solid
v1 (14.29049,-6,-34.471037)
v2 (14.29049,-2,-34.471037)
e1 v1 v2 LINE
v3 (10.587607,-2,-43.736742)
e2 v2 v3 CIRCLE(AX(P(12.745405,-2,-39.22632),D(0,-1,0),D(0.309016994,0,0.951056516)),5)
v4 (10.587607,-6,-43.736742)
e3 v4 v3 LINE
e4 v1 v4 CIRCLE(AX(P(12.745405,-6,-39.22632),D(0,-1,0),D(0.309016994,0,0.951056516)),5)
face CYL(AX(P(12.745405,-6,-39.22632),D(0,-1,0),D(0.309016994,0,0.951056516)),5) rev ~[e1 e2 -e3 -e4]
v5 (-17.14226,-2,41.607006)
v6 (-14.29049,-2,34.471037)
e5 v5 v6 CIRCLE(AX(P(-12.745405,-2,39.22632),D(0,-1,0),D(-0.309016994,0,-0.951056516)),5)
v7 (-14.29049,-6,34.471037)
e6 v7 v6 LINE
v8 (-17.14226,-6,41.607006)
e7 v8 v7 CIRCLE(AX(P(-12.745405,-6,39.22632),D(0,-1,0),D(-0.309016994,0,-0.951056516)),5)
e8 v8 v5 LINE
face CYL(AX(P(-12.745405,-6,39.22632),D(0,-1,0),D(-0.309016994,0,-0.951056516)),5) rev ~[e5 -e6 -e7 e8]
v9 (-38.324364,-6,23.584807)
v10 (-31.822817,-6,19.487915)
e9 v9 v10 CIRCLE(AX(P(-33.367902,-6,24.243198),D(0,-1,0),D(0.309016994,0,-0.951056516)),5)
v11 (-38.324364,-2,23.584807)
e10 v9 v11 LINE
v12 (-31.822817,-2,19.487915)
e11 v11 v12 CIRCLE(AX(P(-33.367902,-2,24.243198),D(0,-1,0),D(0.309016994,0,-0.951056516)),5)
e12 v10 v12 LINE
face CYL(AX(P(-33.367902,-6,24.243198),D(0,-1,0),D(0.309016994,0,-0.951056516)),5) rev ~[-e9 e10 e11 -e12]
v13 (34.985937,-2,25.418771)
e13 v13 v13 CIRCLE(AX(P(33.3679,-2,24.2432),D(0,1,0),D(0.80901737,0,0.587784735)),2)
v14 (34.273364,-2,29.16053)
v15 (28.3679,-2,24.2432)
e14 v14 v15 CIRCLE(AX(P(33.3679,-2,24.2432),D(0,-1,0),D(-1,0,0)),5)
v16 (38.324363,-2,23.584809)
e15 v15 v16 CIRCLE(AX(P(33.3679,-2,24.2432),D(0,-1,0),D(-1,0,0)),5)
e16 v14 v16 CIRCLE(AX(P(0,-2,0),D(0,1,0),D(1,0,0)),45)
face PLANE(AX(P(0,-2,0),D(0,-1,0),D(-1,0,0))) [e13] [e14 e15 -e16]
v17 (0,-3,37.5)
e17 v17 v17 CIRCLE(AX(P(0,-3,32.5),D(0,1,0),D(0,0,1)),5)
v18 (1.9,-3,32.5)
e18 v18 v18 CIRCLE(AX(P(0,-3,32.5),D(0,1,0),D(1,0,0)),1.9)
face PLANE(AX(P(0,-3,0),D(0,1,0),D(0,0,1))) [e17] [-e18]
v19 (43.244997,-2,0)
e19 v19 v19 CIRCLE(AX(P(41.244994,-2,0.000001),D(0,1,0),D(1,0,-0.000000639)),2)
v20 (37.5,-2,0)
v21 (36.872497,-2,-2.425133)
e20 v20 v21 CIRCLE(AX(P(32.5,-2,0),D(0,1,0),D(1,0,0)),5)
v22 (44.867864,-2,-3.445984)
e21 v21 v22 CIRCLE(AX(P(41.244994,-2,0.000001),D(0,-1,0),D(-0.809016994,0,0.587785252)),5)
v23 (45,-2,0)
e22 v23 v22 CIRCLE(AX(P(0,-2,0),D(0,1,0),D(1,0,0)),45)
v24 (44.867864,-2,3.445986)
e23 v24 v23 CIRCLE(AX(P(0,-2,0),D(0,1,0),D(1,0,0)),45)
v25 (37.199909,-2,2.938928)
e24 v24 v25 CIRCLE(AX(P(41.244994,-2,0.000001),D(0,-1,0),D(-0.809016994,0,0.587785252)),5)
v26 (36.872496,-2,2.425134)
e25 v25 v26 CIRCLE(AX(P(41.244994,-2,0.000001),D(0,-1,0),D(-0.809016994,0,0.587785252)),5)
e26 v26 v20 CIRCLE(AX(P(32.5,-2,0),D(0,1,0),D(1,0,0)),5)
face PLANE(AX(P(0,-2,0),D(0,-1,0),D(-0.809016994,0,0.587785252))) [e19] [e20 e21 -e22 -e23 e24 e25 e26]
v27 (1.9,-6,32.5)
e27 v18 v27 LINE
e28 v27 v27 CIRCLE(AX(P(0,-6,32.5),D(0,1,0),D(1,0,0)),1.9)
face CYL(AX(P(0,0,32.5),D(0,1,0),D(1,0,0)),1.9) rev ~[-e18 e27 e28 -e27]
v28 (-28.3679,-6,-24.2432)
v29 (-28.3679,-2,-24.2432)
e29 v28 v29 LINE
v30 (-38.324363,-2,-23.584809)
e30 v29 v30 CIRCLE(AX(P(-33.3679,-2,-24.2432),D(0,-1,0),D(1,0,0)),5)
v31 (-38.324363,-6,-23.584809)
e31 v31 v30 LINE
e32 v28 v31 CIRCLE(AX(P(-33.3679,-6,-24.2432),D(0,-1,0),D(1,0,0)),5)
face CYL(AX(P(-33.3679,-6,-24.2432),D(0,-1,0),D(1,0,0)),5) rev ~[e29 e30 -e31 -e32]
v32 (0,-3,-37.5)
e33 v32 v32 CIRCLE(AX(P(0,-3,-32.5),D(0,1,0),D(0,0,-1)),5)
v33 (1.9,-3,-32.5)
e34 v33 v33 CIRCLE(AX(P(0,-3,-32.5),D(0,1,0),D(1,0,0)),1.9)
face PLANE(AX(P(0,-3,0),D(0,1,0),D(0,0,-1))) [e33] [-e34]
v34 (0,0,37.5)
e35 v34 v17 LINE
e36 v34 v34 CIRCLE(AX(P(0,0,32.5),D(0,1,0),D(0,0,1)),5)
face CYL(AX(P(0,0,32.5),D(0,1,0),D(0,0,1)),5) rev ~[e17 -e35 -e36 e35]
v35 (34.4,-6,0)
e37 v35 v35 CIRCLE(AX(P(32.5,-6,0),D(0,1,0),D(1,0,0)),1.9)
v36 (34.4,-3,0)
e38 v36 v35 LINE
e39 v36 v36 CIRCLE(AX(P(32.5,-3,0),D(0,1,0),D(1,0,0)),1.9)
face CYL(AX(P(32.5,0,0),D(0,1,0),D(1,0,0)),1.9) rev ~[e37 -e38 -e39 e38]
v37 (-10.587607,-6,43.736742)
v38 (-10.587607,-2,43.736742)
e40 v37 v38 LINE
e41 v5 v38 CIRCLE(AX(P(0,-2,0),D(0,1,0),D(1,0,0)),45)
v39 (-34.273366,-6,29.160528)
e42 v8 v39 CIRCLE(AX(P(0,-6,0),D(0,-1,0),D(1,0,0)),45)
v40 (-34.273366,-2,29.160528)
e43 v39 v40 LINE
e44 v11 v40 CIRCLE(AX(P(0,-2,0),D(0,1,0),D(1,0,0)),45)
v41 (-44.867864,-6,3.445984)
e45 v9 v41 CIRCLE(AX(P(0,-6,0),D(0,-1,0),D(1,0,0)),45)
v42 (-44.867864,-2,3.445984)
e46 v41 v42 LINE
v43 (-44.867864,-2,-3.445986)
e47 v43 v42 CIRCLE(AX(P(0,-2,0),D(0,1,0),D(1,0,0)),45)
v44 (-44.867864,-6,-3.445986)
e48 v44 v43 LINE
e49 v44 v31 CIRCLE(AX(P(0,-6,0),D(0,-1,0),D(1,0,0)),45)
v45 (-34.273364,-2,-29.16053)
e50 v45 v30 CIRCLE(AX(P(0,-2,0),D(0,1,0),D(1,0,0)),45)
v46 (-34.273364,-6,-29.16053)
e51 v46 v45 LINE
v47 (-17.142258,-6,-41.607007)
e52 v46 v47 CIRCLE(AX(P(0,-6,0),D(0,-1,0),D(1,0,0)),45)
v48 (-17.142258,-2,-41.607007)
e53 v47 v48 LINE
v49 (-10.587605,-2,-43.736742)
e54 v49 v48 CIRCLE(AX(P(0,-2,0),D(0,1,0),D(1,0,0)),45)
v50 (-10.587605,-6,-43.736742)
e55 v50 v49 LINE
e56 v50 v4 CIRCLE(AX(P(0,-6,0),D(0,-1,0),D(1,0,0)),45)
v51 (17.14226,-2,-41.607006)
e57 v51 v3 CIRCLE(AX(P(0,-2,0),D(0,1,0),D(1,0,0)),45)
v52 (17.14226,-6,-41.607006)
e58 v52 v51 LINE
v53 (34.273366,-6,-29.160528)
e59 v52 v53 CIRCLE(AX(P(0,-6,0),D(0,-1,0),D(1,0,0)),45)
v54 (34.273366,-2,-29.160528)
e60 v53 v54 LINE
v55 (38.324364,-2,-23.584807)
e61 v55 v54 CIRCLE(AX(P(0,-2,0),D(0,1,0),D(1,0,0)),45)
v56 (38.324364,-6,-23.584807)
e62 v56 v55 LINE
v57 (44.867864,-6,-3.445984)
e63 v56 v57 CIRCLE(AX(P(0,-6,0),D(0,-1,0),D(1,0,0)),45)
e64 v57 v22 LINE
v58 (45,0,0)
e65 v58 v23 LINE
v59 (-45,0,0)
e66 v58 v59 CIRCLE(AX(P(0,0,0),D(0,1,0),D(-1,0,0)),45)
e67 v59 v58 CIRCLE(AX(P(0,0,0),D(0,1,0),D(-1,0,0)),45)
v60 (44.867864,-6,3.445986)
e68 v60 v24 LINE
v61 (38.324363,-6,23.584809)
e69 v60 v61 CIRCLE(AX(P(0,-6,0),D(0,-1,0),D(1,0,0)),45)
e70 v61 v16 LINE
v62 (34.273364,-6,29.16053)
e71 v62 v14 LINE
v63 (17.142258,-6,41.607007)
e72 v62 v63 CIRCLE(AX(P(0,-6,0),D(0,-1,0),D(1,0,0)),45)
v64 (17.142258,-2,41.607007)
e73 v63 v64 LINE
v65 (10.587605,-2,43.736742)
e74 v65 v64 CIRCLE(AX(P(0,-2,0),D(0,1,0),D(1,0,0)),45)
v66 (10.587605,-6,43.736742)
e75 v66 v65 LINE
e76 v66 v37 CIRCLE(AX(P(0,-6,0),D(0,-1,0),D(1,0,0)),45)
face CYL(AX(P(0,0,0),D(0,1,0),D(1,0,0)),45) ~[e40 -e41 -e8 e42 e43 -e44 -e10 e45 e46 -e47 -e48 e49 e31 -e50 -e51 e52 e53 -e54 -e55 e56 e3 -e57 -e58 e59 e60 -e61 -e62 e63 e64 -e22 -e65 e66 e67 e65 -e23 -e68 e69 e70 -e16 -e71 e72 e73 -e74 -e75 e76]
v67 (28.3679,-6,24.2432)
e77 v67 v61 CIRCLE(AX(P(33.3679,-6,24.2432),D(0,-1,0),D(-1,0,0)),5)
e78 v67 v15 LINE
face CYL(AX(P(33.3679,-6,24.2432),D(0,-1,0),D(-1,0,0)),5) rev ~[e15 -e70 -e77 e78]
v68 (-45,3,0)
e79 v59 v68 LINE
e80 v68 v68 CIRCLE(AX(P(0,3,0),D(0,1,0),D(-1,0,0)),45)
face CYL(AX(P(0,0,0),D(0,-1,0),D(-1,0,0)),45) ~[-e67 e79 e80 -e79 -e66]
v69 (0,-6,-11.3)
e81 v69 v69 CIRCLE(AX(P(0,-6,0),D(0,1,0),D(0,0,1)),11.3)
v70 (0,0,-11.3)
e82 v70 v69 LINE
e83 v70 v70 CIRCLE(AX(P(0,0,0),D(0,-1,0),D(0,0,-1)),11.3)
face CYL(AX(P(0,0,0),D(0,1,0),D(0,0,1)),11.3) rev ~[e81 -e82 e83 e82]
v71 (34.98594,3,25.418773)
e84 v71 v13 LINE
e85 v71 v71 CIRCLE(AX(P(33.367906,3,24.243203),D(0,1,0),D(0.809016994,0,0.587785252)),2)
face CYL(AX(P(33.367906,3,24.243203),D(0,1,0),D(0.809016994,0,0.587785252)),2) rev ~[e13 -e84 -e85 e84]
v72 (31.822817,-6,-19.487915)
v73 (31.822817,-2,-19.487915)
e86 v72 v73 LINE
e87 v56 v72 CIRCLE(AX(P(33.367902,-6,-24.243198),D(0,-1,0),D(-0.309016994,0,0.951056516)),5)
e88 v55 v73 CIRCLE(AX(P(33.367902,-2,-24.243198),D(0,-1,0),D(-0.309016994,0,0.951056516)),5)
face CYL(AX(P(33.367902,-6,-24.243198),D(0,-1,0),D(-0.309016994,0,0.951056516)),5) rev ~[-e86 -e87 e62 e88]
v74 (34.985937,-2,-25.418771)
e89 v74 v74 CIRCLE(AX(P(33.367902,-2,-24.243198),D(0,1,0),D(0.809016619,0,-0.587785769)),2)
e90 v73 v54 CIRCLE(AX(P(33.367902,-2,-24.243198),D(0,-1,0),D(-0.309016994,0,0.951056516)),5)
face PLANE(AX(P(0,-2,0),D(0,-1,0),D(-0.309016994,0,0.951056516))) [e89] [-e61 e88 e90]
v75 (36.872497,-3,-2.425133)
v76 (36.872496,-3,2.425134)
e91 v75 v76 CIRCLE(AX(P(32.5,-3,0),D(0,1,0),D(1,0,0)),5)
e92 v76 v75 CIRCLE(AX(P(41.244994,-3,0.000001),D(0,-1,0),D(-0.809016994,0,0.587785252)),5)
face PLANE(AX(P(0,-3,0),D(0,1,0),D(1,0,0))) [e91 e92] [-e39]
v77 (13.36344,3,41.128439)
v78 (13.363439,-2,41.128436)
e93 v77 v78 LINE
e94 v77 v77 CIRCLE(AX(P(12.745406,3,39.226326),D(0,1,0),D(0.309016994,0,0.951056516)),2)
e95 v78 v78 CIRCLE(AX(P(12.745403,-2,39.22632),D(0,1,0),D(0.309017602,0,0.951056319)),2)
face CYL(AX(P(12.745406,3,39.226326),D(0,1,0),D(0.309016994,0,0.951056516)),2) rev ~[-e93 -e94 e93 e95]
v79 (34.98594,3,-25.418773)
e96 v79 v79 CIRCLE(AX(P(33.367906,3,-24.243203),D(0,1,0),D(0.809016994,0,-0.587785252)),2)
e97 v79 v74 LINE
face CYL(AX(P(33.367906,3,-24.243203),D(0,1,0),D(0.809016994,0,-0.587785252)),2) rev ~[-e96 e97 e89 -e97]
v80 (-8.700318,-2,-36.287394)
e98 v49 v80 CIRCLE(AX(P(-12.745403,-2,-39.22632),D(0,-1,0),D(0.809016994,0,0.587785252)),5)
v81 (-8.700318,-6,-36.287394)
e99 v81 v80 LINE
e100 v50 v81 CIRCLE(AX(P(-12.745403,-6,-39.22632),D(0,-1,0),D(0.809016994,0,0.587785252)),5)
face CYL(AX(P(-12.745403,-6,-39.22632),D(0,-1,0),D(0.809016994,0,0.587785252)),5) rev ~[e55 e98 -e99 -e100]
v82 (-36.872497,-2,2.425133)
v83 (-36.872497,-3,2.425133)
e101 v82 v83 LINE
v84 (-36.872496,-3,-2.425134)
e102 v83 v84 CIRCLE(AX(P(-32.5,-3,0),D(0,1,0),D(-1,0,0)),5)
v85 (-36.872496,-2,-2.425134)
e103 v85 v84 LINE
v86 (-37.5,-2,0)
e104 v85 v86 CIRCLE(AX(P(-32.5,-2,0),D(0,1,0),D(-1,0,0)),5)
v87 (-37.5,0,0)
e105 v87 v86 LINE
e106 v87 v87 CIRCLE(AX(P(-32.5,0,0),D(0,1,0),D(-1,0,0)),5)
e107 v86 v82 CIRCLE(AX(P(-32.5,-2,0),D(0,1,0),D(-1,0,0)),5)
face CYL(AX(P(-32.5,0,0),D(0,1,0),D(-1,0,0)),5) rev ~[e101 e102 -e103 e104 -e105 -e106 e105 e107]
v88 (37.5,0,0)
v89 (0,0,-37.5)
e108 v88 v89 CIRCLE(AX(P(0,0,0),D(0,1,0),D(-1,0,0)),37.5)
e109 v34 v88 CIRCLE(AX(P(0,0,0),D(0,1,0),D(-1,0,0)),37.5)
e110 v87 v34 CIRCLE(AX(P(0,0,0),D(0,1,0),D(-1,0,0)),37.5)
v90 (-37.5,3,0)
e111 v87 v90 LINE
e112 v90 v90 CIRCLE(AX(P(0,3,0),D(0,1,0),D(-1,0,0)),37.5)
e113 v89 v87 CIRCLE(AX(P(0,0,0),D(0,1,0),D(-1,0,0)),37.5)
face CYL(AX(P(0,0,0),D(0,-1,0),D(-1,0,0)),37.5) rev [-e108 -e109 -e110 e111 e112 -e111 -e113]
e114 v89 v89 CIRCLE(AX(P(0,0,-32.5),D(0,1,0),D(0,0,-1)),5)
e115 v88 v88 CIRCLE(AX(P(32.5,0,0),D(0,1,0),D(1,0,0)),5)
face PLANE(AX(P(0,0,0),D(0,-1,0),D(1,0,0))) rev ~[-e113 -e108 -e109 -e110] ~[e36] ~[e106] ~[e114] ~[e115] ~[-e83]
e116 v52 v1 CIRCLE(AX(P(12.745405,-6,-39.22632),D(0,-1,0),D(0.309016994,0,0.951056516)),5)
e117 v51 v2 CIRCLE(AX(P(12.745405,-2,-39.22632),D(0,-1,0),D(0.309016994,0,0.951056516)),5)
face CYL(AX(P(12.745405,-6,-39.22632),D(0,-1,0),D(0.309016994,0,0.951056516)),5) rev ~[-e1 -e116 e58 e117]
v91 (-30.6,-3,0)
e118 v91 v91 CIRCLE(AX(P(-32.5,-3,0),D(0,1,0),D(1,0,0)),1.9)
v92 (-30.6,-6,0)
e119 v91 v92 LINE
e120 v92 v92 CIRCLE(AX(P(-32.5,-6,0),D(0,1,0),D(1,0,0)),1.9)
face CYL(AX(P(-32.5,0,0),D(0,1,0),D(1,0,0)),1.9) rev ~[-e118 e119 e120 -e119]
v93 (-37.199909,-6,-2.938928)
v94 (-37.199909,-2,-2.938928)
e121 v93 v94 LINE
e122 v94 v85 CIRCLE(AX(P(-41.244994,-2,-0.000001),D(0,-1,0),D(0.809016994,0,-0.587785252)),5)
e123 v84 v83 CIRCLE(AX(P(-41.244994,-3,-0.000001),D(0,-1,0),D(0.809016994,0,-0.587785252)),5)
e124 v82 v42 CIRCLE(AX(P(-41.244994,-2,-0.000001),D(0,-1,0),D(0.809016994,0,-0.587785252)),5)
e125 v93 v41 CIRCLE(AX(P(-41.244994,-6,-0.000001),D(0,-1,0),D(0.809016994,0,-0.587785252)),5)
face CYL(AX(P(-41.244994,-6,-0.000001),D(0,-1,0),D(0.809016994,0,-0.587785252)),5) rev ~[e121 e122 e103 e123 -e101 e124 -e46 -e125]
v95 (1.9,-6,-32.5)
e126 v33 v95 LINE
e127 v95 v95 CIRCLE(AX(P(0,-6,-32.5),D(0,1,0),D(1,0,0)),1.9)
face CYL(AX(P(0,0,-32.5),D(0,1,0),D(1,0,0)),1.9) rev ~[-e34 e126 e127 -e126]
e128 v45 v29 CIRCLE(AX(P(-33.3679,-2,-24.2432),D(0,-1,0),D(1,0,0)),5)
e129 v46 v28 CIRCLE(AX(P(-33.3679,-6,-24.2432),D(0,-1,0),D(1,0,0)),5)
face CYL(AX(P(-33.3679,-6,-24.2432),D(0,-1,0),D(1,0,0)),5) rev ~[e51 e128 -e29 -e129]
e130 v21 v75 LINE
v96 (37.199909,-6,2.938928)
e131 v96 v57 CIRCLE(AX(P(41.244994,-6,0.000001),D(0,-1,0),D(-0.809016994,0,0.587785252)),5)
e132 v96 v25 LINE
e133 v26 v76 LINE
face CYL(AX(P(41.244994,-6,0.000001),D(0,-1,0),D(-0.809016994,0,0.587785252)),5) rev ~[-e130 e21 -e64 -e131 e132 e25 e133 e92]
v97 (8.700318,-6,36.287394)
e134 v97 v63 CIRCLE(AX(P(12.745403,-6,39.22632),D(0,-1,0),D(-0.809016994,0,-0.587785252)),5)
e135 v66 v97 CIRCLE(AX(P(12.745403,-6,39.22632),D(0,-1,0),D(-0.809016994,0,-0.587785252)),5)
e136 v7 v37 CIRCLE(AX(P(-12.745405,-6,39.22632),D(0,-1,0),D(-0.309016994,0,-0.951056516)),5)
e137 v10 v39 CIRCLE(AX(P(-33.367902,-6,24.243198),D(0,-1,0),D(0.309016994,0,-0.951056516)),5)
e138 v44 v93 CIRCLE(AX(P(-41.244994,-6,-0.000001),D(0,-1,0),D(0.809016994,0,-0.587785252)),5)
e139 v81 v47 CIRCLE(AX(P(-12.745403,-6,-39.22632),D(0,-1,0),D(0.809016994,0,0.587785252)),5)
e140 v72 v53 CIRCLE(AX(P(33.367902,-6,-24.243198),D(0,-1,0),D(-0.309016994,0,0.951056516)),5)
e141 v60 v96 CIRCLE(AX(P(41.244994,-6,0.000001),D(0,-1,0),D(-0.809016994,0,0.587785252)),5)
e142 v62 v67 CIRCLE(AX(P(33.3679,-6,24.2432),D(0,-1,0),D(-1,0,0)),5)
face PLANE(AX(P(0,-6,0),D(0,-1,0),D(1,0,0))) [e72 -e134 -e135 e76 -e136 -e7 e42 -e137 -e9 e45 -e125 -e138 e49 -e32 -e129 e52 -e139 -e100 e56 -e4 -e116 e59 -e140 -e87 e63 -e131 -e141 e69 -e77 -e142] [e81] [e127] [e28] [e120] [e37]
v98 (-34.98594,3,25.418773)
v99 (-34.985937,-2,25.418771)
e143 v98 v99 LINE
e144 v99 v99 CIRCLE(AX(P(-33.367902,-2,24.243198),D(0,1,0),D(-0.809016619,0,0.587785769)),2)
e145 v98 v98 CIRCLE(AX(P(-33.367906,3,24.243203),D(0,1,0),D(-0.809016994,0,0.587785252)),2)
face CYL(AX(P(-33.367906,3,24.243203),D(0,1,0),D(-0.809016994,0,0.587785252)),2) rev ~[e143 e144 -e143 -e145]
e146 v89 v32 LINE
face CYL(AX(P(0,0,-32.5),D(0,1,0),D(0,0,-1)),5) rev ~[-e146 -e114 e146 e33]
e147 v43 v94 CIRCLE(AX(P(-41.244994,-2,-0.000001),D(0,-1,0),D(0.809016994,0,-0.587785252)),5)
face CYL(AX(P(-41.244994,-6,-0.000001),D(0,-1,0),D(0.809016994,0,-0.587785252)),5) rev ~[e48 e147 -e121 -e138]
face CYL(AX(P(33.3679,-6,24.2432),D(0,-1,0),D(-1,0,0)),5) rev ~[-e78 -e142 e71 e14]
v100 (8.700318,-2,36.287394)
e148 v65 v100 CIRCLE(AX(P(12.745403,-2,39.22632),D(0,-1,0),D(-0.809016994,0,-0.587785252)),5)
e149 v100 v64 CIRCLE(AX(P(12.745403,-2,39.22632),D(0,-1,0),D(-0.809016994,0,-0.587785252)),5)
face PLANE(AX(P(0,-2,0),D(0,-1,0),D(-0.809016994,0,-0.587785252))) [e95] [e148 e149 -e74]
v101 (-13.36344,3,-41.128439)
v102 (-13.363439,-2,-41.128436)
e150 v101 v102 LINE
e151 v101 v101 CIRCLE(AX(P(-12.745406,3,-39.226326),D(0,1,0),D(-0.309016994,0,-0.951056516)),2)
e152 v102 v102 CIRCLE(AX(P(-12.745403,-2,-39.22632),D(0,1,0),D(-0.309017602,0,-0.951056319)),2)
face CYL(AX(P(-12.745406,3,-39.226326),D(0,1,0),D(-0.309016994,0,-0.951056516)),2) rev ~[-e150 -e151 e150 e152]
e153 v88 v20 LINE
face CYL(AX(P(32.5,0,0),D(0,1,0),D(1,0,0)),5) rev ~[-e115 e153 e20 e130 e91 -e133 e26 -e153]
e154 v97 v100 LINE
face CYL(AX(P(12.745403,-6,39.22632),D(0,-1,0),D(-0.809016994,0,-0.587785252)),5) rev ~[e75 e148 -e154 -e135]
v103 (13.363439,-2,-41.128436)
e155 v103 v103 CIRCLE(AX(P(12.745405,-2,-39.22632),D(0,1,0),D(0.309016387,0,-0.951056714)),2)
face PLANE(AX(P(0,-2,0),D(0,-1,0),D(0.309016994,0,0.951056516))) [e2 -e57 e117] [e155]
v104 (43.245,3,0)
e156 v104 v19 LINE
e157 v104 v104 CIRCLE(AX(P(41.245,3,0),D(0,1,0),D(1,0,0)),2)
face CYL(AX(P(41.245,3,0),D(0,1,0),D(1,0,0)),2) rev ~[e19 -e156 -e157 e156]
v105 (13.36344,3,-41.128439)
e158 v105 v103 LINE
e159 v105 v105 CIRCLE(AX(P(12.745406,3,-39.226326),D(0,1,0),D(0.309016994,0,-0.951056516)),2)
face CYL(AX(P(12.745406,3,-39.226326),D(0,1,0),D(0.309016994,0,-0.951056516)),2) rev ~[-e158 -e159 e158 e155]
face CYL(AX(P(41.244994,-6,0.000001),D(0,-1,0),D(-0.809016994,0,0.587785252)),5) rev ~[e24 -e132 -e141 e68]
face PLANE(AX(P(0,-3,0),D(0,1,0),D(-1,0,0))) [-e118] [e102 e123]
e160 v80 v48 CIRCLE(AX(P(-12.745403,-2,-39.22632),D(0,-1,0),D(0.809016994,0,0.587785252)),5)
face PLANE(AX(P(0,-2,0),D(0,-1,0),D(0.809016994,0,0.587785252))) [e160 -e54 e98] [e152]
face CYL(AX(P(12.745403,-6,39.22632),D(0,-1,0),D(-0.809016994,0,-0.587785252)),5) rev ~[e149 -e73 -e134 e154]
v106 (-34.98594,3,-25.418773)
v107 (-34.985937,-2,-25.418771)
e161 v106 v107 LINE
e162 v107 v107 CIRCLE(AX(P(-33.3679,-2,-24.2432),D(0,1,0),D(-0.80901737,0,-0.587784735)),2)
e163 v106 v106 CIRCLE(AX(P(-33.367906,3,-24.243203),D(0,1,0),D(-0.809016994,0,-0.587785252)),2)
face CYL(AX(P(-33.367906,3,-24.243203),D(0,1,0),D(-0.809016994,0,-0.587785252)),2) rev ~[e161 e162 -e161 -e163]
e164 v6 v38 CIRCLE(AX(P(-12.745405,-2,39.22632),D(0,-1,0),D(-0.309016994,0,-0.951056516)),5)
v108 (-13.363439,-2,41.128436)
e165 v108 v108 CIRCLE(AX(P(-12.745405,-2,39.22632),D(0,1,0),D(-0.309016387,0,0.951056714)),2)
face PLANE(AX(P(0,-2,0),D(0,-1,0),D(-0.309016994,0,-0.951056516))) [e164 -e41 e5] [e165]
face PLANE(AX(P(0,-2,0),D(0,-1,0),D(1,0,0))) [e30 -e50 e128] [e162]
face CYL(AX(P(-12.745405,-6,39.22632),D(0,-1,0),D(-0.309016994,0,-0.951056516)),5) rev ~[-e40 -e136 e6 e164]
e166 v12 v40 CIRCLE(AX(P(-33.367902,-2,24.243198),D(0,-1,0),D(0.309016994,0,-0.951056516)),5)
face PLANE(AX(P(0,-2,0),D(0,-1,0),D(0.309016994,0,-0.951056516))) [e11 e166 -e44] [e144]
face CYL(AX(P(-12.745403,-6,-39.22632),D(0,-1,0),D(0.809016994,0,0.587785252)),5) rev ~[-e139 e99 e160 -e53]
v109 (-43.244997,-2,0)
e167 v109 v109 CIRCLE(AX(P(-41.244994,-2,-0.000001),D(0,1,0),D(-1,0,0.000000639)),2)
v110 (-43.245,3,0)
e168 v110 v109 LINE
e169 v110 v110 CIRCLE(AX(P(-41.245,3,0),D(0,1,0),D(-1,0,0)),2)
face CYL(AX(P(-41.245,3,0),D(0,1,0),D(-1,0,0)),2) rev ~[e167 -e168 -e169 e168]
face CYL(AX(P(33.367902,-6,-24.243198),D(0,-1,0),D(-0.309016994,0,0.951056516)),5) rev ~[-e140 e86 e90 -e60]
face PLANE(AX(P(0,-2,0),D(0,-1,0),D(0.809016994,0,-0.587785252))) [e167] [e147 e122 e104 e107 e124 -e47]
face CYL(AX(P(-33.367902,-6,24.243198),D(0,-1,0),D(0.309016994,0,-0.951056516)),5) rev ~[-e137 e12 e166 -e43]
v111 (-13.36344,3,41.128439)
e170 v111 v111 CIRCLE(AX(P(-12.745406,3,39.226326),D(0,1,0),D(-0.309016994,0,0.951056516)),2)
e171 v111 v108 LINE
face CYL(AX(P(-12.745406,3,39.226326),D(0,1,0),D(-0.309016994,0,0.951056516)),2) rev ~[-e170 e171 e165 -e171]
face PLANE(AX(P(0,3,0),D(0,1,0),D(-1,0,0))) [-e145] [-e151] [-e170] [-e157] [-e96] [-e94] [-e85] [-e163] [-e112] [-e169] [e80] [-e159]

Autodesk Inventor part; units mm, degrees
ref_plane "YZ Plane" through (0, 0, 0) normal (1, 0, 0) x (0, 1, 0)
ref_plane "XZ Plane" through (0, 0, 0) normal (0, 1, 0) x (-1, 0, 0)
ref_plane "XY Plane" through (0, 0, 0) normal (0, 0, 1) x (1, 0, 0)
sketch "Эскиз1" plane through (0, 0, 0) normal (0, 1, 0) x (-1, 0, 0)
  circle A0 centre (0, 0) radius 45
  circle A1 centre (0, 0) radius 37.5
  dimension "d0" = 90
  dimension "d1" = 75
extrude "Выдавливание1" add sketch "Эскиз1" along normal blind 3
sketch "Эскиз2" plane through (0, 0, 0) normal (0, -1, 0) x (1, 0, 0)
  circle A0 centre (0, 0) radius 45
  circle A1 centre (0, 0) radius 45 projected
  circle A2 centre (0, 0) radius 40
  dimension "d4" = 80
  dimension "d5" = 90
extrude "Выдавливание2" add sketch "Эскиз2" along normal blind 6 contours A0 | A2
sketch "Эскиз3" plane through (0, 3, 0) normal (0, 1, 0) x (1, 0, 0)
  circle A0 centre (0, 0) radius 37.5 projected
  circle A1 centre (0, 0) radius 45 projected
  circle A2 centre (41.245, 0) radius 2
  line L0 (37.5, 0) -> (37.9725, 0)
  dimension "d10" = 4
  dimension "d30" = 3.745
extrude "Выдавливание3" cut sketch "Эскиз3" against normal through all contours A2
pattern_circular "Круговой массив1" count 10 over 360 about axis through (0, 0, 0) along (0, 1, 0) of "Выдавливание3"
sketch "Эскиз4" plane through (0, -6, 0) normal (0, -1, 0) x (1, 0, 0)
  circle A0 centre (-33.3679, -24.2432) radius 2 projected
  circle A1 centre (-33.3679, -24.2432) radius 5
  point P0 (0, 0)
  dimension "d16" = 10
extrude "Выдавливание4" cut sketch "Эскиз4" against normal blind 4
pattern_circular "Круговой массив2" count 10 over 360 about axis through (0, 0, 0) along (0, 1, 0) of "Выдавливание4"
sketch "Эскиз5" plane through (0, 0, 0) normal (0, 1, 0) x (1, 0, 0)
  line L0 (15, -27.5) -> (5, -37.5)
  line L1 (5, -37.5) -> (-5, -37.5)
  line L2 (-5, -37.5) -> (-15, -27.5)
  line L3 (-15, -27.5) -> (-27.5, -27.5)
  line L4 (-27.5, -27.5) -> (-27.5, -15)
  line L5 (-27.5, -15) -> (-37.5, -5)
  line L6 (-37.5, -5) -> (-37.5, 5)
  line L7 (-37.5, 5) -> (-27.5, 15)
  line L8 (-27.5, 15) -> (-27.5, 27.5)
  line L9 (-27.5, 27.5) -> (-15, 27.5)
  line L10 (-15, 27.5) -> (-5, 37.5)
  line L11 (-5, 37.5) -> (5, 37.5)
  line L12 (5, 37.5) -> (15, 27.5)
  line L13 (15, 27.5) -> (27.5, 27.5)
  line L14 (27.5, 27.5) -> (27.5, 15)
  line L15 (27.5, 15) -> (37.5, 5)
  line L16 (37.5, 5) -> (37.5, -5)
  line L17 (37.5, -5) -> (27.5, -15)
  line L18 (27.5, -15) -> (27.5, -27.5)
  line L19 (27.5, -27.5) -> (15, -27.5)
  circle A0 centre (0, -32.5) radius 1.9
  circle A1 centre (-32.5, 0) radius 1.9
  circle A2 centre (0, 32.5) radius 1.9
  circle A3 centre (32.5, 0) radius 1.9
  arc A4 (20.5, 15.5) -> (15.5, 20.5) centre (15.5, 15.5) ccw
  arc A5 (15.5, 20.5) -> (10.5, 15.5) centre (15.5, 15.5) ccw
  arc A6 (10.5, 15.5) -> (15.5, 10.5) centre (15.5, 15.5) ccw
  arc A7 (15.5, 10.5) -> (20.5, 15.5) centre (15.5, 15.5) ccw
  arc A8 (-10.5, -15.5) -> (-15.5, -10.5) centre (-15.5, -15.5) ccw
  arc A9 (-15.5, -10.5) -> (-20.5, -15.5) centre (-15.5, -15.5) ccw
  arc A10 (-20.5, -15.5) -> (-15.5, -20.5) centre (-15.5, -15.5) ccw
  arc A11 (-15.5, -20.5) -> (-10.5, -15.5) centre (-15.5, -15.5) ccw
  arc A12 (-10.5, 15.5) -> (-15.5, 20.5) centre (-15.5, 15.5) ccw
  arc A13 (-15.5, 20.5) -> (-20.5, 15.5) centre (-15.5, 15.5) ccw
  arc A14 (-20.5, 15.5) -> (-15.5, 10.5) centre (-15.5, 15.5) ccw
  arc A15 (-15.5, 10.5) -> (-10.5, 15.5) centre (-15.5, 15.5) ccw
  arc A16 (20.5, -15.5) -> (15.5, -10.5) centre (15.5, -15.5) ccw
  arc A17 (15.5, -10.5) -> (10.5, -15.5) centre (15.5, -15.5) ccw
  arc A18 (10.5, -15.5) -> (15.5, -20.5) centre (15.5, -15.5) ccw
  arc A19 (15.5, -20.5) -> (20.5, -15.5) centre (15.5, -15.5) ccw
  arc A20 (11.3, 0) -> (0, 11.3) centre (0, 0) ccw
  arc A21 (0, 11.3) -> (-11.3, 0) centre (0, 0) ccw
  arc A22 (-11.3, 0) -> (0, -11.3) centre (0, 0) ccw
  arc A23 (0, -11.3) -> (11.3, 0) centre (0, 0) ccw
extrude "Выдавливание5" cut sketch "Эскиз5" against normal through all contours A0 | A1 | A2 | A3 | A23 A22 A21 A20
sketch "Эскиз6" plane through (0, 0, 0) normal (0, 1, 0) x (1, 0, 0)
  circle A0 centre (32.5, 0) radius 1.9 projected
  circle A1 centre (32.5, 0) radius 5
  point P0 (0, 0)
  dimension "d24" = 10
extrude "Выдавливание6" cut sketch "Эскиз6" against normal blind 3
pattern_circular "Круговой массив3" count 4 over 360 about axis through (0, 0, 0) along (0, -1, 0) of "Выдавливание6"
properties part number "МД.001.201 - Основа" material "Пластик АБС"
